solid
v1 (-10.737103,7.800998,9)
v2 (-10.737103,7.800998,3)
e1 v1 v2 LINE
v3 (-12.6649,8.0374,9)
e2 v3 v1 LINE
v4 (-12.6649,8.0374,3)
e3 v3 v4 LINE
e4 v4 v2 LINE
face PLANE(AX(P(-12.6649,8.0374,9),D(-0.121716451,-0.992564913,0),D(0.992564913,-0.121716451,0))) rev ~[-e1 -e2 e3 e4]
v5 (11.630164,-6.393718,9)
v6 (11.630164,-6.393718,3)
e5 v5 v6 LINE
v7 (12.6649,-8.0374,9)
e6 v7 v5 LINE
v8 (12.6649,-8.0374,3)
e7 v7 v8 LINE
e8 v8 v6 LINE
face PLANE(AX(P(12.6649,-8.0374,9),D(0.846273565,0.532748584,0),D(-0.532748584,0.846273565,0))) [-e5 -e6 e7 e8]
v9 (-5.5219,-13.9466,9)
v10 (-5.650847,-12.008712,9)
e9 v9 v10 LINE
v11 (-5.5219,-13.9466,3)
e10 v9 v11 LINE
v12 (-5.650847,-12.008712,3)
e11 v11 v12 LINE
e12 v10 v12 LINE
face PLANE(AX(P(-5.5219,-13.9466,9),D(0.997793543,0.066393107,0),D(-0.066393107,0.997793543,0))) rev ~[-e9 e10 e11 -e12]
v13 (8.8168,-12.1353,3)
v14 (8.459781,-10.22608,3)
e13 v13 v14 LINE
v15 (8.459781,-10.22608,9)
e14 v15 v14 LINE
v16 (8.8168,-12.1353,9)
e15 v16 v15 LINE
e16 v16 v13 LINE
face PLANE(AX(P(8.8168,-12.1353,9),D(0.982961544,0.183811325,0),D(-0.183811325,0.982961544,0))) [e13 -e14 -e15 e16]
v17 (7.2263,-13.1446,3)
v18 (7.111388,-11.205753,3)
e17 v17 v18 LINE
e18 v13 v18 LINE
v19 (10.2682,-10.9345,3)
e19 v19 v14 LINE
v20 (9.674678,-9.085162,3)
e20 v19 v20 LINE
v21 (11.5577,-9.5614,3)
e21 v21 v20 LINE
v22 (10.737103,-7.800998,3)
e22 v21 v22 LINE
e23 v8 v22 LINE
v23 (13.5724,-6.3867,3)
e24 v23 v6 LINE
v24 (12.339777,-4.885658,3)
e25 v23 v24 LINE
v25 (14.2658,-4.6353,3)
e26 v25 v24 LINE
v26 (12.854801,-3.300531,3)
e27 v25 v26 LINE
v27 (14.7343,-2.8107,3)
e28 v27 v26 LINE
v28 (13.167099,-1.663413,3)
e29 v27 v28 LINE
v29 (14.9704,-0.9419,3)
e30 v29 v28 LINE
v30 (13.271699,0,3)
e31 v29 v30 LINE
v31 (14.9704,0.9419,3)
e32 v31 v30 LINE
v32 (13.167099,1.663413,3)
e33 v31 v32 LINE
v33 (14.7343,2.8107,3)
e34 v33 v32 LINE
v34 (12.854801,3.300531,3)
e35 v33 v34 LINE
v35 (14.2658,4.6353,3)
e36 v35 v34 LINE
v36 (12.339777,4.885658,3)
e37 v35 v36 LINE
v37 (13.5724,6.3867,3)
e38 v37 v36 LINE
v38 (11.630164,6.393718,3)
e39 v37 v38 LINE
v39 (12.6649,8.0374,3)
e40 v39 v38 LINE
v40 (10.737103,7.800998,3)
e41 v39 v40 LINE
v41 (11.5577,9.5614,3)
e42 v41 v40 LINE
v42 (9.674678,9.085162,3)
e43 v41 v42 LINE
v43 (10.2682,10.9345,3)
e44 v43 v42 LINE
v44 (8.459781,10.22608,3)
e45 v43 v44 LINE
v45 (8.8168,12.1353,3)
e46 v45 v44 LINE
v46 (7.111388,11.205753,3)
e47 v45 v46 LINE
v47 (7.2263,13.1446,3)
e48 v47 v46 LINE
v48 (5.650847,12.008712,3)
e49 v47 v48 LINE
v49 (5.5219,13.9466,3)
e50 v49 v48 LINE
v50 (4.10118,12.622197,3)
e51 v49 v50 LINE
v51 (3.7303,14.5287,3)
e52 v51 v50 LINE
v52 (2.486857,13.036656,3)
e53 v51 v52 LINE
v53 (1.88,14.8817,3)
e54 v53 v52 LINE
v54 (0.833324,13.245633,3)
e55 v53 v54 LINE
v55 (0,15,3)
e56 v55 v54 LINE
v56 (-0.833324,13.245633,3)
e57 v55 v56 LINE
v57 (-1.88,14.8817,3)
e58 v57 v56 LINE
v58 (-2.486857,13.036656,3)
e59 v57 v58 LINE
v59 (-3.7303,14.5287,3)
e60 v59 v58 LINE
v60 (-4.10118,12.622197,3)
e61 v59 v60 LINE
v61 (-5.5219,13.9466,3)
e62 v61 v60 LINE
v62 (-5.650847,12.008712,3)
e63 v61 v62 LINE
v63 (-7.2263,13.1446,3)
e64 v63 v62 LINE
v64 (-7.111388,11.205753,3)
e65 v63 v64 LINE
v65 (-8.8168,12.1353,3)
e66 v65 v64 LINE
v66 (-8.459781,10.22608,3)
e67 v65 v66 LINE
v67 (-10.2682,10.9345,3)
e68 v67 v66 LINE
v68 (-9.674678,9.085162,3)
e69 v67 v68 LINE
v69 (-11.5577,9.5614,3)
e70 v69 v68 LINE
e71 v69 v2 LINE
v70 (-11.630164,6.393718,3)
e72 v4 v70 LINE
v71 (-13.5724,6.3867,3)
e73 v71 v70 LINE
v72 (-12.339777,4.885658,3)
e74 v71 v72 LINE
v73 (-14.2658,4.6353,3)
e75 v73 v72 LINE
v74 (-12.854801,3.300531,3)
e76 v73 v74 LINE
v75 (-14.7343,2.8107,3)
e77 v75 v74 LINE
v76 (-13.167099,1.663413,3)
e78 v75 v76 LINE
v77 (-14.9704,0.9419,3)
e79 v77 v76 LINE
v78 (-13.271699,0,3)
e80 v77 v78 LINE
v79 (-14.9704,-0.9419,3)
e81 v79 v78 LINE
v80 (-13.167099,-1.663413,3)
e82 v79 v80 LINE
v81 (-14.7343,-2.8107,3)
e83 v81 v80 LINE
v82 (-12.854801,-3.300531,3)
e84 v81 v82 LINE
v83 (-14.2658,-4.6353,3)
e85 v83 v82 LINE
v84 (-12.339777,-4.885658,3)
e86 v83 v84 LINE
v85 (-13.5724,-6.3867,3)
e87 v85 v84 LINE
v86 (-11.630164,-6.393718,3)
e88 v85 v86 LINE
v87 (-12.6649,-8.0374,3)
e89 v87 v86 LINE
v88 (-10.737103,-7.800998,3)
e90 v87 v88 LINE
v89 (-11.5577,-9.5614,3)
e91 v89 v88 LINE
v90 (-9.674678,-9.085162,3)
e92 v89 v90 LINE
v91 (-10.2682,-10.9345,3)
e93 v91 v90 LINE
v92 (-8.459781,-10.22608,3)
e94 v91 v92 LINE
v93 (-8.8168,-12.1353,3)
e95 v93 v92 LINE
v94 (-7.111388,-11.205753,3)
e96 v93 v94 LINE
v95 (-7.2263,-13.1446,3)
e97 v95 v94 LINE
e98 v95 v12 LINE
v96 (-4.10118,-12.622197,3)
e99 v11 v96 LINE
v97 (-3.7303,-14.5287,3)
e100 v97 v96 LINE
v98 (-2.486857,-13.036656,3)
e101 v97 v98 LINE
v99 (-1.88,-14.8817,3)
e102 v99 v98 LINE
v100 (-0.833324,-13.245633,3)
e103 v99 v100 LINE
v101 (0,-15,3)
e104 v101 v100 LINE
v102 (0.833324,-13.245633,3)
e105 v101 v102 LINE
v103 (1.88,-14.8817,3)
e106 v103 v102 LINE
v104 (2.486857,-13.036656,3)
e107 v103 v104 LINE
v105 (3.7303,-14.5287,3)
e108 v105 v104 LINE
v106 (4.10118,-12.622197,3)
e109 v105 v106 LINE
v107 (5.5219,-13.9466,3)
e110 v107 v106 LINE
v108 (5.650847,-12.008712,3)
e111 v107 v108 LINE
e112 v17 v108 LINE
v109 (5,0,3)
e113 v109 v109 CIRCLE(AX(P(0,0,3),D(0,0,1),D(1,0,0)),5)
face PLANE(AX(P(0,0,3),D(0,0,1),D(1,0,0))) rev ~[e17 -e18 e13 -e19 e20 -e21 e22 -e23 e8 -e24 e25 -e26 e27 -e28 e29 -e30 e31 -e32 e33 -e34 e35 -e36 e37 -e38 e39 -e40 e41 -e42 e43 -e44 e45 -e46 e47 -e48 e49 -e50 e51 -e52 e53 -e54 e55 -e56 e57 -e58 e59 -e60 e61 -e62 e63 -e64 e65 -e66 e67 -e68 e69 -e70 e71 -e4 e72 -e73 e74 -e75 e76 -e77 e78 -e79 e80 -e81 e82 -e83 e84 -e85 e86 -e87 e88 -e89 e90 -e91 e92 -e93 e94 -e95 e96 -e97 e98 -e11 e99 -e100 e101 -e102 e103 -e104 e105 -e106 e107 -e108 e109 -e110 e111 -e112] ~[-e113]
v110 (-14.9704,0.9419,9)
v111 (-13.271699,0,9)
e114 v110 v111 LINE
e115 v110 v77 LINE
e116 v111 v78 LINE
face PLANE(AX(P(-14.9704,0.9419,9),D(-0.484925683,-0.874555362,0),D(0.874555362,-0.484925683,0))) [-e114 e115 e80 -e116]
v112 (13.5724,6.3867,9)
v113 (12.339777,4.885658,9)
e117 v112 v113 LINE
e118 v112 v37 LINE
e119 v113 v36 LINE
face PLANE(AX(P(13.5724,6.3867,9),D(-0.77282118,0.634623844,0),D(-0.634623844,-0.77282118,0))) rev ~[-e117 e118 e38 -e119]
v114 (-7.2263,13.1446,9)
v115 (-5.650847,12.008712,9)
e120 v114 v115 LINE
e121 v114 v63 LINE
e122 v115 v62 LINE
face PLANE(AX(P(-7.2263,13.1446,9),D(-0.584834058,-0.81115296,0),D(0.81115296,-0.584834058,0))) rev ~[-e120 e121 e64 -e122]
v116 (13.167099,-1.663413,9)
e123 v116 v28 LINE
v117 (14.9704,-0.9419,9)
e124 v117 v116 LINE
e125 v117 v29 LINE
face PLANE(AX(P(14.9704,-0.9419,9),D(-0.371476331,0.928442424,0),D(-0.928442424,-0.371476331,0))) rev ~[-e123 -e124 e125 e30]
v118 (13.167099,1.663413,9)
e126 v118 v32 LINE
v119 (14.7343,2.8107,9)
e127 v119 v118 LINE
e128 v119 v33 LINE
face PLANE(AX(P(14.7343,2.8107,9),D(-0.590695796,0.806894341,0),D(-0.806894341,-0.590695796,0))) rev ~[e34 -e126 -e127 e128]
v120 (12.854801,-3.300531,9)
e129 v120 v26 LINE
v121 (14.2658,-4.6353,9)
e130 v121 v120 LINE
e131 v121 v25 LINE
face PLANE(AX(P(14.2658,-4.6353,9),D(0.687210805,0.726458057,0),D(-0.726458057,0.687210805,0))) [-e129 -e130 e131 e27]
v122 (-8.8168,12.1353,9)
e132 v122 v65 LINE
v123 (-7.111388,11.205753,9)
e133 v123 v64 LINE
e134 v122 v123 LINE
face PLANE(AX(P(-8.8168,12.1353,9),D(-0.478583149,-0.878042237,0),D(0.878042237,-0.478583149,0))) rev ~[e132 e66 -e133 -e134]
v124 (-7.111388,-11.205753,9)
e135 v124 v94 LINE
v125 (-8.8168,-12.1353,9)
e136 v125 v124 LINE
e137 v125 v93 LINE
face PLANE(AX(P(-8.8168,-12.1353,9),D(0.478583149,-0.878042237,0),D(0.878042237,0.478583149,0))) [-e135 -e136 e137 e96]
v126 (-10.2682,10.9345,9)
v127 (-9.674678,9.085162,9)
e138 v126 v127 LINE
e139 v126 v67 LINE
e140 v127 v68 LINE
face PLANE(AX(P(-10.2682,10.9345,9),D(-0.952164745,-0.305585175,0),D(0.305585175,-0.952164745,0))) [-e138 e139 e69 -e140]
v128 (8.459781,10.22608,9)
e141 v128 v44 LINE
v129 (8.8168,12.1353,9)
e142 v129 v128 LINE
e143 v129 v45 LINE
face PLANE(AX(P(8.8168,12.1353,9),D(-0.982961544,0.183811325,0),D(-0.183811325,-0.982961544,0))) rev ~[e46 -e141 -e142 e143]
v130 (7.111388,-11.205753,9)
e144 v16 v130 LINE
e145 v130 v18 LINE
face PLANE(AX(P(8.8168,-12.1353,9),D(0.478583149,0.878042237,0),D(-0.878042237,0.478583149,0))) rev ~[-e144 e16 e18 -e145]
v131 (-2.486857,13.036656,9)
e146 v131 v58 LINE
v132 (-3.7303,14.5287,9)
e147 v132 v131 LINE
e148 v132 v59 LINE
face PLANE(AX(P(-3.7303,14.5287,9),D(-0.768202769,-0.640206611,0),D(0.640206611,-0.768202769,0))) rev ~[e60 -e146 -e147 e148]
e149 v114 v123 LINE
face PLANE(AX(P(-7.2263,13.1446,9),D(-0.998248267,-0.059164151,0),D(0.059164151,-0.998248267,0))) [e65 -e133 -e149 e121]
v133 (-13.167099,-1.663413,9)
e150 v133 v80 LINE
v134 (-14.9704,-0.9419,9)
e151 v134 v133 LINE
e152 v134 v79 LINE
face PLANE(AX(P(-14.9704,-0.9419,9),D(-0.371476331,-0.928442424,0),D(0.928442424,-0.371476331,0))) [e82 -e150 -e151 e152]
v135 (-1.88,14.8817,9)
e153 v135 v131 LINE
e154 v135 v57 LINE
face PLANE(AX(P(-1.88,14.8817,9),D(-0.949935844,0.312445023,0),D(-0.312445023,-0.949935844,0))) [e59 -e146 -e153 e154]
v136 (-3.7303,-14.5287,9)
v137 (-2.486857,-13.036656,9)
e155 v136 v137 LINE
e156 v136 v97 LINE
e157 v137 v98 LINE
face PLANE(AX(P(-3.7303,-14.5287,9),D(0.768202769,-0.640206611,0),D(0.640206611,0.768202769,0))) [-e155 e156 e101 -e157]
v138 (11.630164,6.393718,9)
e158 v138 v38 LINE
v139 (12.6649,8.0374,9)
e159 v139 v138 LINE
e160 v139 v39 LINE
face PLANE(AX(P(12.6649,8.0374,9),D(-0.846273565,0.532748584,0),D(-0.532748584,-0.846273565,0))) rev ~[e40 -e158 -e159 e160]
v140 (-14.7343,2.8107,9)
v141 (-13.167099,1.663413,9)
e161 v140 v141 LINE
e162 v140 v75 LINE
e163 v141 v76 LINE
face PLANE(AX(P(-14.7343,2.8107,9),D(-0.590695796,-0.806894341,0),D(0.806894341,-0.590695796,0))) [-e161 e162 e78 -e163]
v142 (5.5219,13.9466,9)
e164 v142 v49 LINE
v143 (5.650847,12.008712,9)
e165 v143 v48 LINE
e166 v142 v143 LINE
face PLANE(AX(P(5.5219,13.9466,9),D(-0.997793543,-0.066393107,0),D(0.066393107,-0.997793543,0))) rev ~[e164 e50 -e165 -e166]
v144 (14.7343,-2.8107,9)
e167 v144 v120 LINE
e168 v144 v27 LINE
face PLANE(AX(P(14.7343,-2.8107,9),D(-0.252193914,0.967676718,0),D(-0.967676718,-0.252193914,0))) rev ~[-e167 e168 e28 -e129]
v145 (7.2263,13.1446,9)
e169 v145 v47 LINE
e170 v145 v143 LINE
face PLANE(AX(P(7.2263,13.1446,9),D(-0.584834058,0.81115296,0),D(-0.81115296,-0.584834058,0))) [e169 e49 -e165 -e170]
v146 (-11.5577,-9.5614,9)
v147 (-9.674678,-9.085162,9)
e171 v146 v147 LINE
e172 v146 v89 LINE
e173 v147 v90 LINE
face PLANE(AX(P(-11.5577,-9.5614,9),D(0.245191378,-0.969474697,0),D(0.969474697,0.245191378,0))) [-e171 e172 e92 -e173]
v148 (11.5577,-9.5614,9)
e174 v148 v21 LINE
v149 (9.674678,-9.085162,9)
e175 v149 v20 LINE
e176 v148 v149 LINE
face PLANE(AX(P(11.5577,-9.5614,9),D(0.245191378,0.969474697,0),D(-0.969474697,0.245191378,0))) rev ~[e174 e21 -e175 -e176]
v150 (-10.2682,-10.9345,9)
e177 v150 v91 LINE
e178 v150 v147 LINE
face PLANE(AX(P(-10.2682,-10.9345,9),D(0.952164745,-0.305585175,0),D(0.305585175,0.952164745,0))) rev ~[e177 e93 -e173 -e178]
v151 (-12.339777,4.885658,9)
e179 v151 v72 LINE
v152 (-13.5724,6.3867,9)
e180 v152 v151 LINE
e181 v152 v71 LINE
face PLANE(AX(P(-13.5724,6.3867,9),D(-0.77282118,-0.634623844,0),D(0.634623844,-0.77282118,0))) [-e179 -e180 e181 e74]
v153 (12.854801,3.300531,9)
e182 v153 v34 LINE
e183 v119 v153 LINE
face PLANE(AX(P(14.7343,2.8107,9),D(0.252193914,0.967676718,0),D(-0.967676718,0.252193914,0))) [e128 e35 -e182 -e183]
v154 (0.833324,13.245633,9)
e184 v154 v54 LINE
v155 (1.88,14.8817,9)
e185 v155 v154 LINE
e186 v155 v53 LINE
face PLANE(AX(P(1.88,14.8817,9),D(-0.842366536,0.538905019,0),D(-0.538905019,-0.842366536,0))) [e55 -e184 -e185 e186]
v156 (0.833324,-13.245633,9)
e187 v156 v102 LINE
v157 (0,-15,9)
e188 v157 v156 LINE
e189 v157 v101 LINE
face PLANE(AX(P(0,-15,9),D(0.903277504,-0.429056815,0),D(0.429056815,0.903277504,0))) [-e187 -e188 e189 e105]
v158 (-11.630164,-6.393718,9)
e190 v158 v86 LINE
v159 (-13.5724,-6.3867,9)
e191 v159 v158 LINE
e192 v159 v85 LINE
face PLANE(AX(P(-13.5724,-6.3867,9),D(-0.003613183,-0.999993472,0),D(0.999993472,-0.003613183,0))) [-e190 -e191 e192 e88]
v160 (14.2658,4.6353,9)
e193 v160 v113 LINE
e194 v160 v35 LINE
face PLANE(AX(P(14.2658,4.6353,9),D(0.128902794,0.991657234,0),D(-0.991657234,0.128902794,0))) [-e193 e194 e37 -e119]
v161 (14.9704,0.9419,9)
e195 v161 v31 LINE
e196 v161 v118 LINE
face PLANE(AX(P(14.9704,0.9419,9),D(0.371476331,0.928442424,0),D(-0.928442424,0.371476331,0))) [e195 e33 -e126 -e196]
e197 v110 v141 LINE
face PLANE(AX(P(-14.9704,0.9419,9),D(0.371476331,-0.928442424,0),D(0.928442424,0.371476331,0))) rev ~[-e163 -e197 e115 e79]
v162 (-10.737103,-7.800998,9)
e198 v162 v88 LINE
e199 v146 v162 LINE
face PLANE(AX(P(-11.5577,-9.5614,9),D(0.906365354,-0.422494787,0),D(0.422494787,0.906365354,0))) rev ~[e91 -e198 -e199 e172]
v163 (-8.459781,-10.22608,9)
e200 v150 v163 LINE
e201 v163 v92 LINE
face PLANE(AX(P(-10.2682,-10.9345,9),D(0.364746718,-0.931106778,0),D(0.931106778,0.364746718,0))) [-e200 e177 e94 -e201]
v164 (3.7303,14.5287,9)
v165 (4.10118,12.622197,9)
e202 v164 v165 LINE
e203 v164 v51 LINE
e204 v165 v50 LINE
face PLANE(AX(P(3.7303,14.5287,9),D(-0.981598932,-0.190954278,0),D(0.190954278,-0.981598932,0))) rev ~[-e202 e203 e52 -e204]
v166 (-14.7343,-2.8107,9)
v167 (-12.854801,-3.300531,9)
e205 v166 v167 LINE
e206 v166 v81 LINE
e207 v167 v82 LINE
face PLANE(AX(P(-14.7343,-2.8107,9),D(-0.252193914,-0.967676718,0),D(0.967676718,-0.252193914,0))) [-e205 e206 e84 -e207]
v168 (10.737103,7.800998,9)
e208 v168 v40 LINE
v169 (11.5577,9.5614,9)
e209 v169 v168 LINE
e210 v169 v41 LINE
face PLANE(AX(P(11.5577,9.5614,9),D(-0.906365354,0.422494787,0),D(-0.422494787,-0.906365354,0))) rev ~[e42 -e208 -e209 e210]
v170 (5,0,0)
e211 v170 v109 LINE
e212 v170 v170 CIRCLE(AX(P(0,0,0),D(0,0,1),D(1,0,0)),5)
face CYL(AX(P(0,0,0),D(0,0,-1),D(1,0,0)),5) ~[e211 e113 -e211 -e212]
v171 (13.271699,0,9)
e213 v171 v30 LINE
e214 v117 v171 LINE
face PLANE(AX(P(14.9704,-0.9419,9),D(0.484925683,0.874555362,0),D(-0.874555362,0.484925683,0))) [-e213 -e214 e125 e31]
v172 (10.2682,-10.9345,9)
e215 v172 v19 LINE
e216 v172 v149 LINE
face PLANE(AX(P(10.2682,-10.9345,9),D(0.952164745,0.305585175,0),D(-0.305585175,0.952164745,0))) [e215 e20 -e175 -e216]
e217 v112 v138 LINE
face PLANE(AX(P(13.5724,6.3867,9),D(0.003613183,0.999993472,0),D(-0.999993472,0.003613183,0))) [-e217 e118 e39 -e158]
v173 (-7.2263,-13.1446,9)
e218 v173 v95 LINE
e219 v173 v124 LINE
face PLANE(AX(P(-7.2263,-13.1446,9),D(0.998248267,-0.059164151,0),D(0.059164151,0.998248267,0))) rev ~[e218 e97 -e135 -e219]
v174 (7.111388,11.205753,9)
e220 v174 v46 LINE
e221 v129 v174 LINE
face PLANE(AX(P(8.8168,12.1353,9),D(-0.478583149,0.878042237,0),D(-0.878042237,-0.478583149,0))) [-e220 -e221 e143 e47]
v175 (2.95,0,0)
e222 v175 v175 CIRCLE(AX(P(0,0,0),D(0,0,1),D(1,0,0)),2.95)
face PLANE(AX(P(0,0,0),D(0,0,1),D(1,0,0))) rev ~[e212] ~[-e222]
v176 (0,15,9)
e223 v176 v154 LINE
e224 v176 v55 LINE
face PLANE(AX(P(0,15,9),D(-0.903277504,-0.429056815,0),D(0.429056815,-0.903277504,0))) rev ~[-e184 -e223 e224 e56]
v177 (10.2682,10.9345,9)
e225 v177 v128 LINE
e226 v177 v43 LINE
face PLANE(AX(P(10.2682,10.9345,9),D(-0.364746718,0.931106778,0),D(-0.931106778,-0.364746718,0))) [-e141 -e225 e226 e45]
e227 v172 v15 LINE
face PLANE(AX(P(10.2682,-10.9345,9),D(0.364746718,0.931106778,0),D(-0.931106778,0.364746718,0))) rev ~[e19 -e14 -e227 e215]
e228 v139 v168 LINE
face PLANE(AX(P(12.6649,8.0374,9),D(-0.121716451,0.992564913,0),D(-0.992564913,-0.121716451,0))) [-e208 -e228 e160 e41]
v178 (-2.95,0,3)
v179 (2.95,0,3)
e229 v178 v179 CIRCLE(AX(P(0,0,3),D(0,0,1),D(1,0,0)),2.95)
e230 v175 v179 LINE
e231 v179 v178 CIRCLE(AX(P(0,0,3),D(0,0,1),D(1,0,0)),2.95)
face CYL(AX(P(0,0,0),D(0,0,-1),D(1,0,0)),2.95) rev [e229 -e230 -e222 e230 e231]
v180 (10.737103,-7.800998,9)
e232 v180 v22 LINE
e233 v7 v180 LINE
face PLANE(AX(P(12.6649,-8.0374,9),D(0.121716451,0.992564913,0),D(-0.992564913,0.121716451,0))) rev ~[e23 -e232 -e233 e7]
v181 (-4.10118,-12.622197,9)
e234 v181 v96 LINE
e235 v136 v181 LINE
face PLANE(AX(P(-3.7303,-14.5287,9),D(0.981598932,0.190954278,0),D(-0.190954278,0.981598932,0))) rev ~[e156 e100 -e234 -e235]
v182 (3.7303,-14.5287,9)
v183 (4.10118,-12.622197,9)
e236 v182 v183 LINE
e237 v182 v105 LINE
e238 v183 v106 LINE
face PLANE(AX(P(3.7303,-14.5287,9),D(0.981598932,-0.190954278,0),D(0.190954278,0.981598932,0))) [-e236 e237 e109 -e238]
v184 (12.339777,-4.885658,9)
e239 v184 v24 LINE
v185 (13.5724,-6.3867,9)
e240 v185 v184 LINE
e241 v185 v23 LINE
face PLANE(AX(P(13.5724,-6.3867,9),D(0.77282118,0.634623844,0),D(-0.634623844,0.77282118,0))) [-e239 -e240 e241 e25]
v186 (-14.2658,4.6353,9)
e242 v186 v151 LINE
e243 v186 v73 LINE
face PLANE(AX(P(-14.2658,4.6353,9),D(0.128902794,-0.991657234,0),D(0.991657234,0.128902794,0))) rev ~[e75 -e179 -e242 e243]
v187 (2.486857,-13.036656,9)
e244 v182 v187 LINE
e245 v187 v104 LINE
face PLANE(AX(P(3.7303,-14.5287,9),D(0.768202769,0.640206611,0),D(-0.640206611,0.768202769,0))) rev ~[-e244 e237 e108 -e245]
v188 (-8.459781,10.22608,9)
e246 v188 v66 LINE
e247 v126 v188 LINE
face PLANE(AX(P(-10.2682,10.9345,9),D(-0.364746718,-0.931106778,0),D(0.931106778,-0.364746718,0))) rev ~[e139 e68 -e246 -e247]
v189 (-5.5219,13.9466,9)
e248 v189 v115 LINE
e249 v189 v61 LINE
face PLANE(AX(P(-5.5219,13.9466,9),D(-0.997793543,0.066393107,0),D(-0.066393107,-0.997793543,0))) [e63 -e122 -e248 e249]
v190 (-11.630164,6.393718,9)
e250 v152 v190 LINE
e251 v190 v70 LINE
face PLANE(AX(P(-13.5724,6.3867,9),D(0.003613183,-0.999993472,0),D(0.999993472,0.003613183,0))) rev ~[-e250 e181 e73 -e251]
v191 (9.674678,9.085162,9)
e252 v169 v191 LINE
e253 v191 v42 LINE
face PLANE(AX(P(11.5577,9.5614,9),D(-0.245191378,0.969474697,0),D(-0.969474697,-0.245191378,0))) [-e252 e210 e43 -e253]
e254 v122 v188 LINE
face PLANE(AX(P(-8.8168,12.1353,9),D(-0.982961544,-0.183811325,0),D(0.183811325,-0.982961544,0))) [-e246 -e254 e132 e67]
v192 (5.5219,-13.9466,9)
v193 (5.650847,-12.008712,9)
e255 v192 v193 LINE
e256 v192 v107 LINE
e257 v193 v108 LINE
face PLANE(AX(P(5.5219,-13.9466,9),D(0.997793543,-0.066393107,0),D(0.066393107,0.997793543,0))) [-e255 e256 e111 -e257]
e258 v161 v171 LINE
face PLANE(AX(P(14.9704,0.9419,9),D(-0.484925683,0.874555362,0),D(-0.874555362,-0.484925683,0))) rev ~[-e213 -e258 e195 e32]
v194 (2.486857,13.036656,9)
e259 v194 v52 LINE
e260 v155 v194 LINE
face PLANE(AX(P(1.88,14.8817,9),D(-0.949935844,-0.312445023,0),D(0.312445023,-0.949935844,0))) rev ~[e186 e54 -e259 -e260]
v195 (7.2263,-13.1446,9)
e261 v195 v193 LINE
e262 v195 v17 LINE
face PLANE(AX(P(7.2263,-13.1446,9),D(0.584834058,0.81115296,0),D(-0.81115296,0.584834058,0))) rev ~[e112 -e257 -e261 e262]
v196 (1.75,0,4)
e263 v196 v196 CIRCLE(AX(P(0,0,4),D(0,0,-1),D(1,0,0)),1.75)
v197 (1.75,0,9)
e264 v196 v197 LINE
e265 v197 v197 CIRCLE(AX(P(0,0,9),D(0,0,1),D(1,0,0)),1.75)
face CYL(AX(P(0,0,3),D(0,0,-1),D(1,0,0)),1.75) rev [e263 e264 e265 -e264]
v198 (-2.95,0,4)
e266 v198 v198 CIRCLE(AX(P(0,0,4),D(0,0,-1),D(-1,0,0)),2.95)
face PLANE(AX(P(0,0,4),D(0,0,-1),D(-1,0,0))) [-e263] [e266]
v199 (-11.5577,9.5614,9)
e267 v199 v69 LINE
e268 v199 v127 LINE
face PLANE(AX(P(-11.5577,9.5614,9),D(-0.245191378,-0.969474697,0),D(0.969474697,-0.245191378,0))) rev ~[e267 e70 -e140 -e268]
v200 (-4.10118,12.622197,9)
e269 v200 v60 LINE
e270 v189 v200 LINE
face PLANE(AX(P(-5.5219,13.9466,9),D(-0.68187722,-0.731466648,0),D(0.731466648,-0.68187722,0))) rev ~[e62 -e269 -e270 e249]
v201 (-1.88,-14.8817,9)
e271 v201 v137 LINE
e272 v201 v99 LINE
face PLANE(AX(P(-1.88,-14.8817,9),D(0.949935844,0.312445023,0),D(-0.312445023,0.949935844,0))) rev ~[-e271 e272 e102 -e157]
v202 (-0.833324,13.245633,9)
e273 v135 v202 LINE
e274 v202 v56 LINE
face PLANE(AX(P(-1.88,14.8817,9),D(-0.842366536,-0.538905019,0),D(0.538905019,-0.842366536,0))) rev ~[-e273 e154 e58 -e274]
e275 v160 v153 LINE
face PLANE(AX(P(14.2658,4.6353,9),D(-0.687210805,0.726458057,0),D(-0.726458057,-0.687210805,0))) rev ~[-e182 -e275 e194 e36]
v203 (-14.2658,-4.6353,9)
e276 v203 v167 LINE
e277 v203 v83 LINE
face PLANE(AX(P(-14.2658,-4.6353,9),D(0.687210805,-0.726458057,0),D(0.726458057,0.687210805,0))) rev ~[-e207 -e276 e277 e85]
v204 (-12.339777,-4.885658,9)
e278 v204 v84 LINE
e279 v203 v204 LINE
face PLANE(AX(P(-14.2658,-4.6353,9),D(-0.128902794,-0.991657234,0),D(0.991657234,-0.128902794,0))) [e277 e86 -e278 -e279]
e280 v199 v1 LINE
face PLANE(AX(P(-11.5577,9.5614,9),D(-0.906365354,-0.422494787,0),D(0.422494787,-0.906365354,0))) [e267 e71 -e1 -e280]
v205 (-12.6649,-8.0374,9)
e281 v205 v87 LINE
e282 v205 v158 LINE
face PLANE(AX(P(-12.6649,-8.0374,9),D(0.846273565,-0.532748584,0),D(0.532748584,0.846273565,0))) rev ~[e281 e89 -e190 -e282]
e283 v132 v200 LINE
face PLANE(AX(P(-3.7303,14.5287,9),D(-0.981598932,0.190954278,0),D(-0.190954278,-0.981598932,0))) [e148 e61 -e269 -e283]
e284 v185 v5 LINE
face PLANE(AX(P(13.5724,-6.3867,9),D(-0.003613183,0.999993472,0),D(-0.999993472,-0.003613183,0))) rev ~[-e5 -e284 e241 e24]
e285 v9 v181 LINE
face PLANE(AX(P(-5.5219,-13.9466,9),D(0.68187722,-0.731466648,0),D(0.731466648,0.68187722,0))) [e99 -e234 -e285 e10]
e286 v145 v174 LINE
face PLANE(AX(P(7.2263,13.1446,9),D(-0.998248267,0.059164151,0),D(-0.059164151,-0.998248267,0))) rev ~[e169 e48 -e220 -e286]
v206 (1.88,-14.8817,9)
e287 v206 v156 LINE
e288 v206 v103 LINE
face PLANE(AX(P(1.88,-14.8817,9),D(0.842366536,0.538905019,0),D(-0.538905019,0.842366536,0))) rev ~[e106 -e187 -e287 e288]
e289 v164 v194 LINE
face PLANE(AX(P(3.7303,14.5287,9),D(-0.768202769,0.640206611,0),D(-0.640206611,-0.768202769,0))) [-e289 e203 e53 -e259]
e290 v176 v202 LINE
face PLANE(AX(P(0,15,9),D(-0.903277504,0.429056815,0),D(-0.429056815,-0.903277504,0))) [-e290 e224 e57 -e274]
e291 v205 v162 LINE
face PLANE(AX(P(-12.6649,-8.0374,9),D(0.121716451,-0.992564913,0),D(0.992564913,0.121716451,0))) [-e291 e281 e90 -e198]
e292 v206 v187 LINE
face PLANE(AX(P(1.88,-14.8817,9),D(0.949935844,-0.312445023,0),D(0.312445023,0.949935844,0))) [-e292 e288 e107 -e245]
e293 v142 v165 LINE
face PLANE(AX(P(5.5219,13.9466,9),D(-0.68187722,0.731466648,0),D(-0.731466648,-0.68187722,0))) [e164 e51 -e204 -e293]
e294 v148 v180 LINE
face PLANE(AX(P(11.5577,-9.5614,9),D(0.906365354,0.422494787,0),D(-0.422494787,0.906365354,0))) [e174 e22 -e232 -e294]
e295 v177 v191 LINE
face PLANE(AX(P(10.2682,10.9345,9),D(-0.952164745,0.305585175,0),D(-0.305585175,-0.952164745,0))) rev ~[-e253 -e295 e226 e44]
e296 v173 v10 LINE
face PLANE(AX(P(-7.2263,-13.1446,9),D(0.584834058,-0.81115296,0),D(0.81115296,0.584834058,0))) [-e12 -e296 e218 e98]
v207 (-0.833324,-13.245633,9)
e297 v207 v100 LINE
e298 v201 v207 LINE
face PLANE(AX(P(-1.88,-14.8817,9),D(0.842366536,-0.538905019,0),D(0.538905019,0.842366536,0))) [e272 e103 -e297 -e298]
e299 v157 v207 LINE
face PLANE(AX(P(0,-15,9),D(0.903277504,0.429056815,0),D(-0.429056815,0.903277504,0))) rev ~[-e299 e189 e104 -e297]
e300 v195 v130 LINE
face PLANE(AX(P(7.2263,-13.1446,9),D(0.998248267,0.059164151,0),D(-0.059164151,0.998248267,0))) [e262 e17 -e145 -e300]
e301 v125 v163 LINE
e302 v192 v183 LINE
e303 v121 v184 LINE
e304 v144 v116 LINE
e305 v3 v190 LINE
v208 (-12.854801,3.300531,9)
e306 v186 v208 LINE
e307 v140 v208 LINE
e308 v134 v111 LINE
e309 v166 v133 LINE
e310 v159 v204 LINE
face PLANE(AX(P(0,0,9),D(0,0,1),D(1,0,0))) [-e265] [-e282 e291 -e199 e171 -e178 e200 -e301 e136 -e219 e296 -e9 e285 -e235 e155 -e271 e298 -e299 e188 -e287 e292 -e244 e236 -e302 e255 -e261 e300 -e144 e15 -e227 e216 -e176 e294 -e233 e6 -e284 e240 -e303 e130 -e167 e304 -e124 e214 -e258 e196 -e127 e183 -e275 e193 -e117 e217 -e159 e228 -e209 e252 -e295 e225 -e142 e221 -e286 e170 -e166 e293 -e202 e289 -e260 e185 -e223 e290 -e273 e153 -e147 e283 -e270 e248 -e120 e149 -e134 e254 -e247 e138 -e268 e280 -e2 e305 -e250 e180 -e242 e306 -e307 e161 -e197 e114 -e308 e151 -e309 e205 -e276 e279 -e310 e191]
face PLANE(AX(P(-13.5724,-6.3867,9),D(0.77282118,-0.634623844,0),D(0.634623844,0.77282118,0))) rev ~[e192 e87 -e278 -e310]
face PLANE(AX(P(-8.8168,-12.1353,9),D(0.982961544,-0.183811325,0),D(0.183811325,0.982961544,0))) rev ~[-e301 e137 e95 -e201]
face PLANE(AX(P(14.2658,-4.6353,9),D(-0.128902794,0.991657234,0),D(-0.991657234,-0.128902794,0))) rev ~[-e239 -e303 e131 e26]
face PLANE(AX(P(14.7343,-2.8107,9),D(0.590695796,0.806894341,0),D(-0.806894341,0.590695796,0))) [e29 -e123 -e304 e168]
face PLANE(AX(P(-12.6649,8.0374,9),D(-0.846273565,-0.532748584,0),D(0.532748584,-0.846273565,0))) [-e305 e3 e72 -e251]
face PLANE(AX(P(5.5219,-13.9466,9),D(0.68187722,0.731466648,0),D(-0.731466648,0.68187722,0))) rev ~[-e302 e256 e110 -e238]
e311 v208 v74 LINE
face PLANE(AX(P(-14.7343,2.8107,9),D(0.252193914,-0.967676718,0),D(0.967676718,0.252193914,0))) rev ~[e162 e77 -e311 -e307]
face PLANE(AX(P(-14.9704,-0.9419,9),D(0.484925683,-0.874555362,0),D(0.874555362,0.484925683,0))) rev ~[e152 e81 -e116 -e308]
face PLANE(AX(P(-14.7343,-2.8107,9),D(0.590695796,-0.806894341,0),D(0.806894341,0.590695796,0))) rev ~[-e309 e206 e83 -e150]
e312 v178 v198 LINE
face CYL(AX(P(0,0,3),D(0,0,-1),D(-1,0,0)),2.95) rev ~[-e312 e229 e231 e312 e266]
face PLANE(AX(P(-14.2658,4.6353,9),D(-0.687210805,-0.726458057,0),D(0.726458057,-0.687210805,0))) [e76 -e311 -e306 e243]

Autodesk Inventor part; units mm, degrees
sketch "Skizze1" plane through (0, 0, 0) normal (0, 0, 1) x (1, 0, 0)
  circle A0 centre (0, 0) radius 2.95
  circle A1 centre (0, 0) radius 5
  dimension "d0" = 5.9
  dimension "d1" = 10
extrude "Extrusion1" add sketch "Skizze1" along normal blind 3
sketch "Skizze2" plane through (0, 0, 3) normal (0, 0, 1) x (1, 0, 0)
  circle A0 centre (0, 0) radius 15
  circle A1 centre (0, 0) radius 1.75
  dimension "d4" = 30
  dimension "d5" = 3.5
extrude "Extrusion2" add sketch "Skizze2" along normal blind 6
sketch "Skizze3" plane through (0, 0, 9) normal (0, 0, 1) x (1, 0, 0)
  circle A0 centre (0, 0) radius 15 projected
  line L0 (0, 15) -> (-0.95, 13)
  line L1 (0, 15) -> (0.95, 13)
  line L2 (0, 21) -> (0, -21) projected
  line L3 (1.88, 14.8817) -> (0.6868, 13.0166)
  line L4 (1.88, 14.8817) -> (2.5718, 12.7784)
  line L5 (3.7303, 14.5287) -> (2.3128, 12.8278)
  line L6 (3.7303, 14.5287) -> (4.1531, 12.3553)
  line L7 (5.5219, 13.9466) -> (3.9023, 12.4368)
  line L8 (5.5219, 13.9466) -> (5.6689, 11.7374)
  line L9 (7.2263, 13.1446) -> (5.4303, 11.8497)
  line L10 (7.2263, 13.1446) -> (7.0953, 10.9343)
  line L11 (8.8168, 12.1353) -> (6.8726, 11.0756)
  line L12 (8.8168, 12.1353) -> (8.4098, 9.9588)
  line L13 (10.2682, 10.9345) -> (8.2066, 10.1269)
  line L14 (10.2682, 10.9345) -> (9.5916, 8.8263)
  line L15 (11.5577, 9.5614) -> (9.4111, 9.0185)
  line L16 (11.5577, 9.5614) -> (10.6222, 7.5545)
  line L17 (12.6649, 8.0374) -> (10.4672, 7.7679)
  line L18 (12.6649, 8.0374) -> (11.4853, 6.1636)
  line L19 (13.5724, 6.3867) -> (11.3583, 6.3947)
  line L20 (13.5724, 6.3867) -> (12.1672, 4.6755)
  line L21 (14.2658, 4.6353) -> (12.0702, 4.9207)
  line L22 (14.2658, 4.6353) -> (12.6573, 3.1137)
  line L23 (14.7343, 2.8107) -> (12.5917, 3.3691)
  line L24 (14.7343, 2.8107) -> (12.9477, 1.5028)
  line L25 (14.9704, 0.9419) -> (12.9147, 1.7644)
  line L26 (14.9704, 0.9419) -> (13.034, -0.1318)
  line L27 (14.9704, -0.9419) -> (13.034, 0.1318)
  line L28 (14.9704, -0.9419) -> (12.9147, -1.7644)
  line L29 (14.7343, -2.8107) -> (12.9477, -1.5028)
  line L30 (14.7343, -2.8107) -> (12.5917, -3.3691)
  line L31 (14.2658, -4.6353) -> (12.6573, -3.1137)
  line L32 (14.2658, -4.6353) -> (12.0702, -4.9207)
  line L33 (13.5724, -6.3867) -> (12.1672, -4.6755)
  line L34 (13.5724, -6.3867) -> (11.3583, -6.3947)
  line L35 (12.6649, -8.0374) -> (11.4853, -6.1636)
  line L36 (12.6649, -8.0374) -> (10.4672, -7.7679)
  line L37 (11.5577, -9.5614) -> (10.6222, -7.5545)
  line L38 (11.5577, -9.5614) -> (9.4111, -9.0185)
  line L39 (10.2682, -10.9345) -> (9.5916, -8.8263)
  line L40 (10.2682, -10.9345) -> (8.2066, -10.1269)
  line L41 (8.8168, -12.1353) -> (8.4098, -9.9588)
  line L42 (8.8168, -12.1353) -> (6.8726, -11.0756)
  line L43 (7.2263, -13.1446) -> (7.0953, -10.9343)
  line L44 (7.2263, -13.1446) -> (5.4303, -11.8497)
  line L45 (5.5219, -13.9466) -> (5.6689, -11.7374)
  line L46 (5.5219, -13.9466) -> (3.9023, -12.4368)
  line L47 (3.7303, -14.5287) -> (4.1531, -12.3553)
  line L48 (3.7303, -14.5287) -> (2.3128, -12.8278)
  line L49 (1.88, -14.8817) -> (2.5718, -12.7784)
  line L50 (1.88, -14.8817) -> (0.6868, -13.0166)
  line L51 (0, -15) -> (0.95, -13)
  line L52 (0, -15) -> (-0.95, -13)
  line L53 (-1.88, -14.8817) -> (-0.6868, -13.0166)
  line L54 (-1.88, -14.8817) -> (-2.5718, -12.7784)
  line L55 (-3.7303, -14.5287) -> (-2.3128, -12.8278)
  line L56 (-3.7303, -14.5287) -> (-4.1531, -12.3553)
  line L57 (-5.5219, -13.9466) -> (-3.9023, -12.4368)
  line L58 (-5.5219, -13.9466) -> (-5.6689, -11.7374)
  line L59 (-7.2263, -13.1446) -> (-5.4303, -11.8497)
  line L60 (-7.2263, -13.1446) -> (-7.0953, -10.9343)
  line L61 (-8.8168, -12.1353) -> (-6.8726, -11.0756)
  line L62 (-8.8168, -12.1353) -> (-8.4098, -9.9588)
  line L63 (-10.2682, -10.9345) -> (-8.2066, -10.1269)
  line L64 (-10.2682, -10.9345) -> (-9.5916, -8.8263)
  line L65 (-11.5577, -9.5614) -> (-9.4111, -9.0185)
  line L66 (-11.5577, -9.5614) -> (-10.6222, -7.5545)
  line L67 (-12.6649, -8.0374) -> (-10.4672, -7.7679)
  line L68 (-12.6649, -8.0374) -> (-11.4853, -6.1636)
  line L69 (-13.5724, -6.3867) -> (-11.3583, -6.3947)
  line L70 (-13.5724, -6.3867) -> (-12.1672, -4.6755)
  line L71 (-14.2658, -4.6353) -> (-12.0702, -4.9207)
  line L72 (-14.2658, -4.6353) -> (-12.6573, -3.1137)
  line L73 (-14.7343, -2.8107) -> (-12.5917, -3.3691)
  line L74 (-14.7343, -2.8107) -> (-12.9477, -1.5028)
  line L75 (-14.9704, -0.9419) -> (-12.9147, -1.7644)
  line L76 (-14.9704, -0.9419) -> (-13.034, 0.1318)
  line L77 (-14.9704, 0.9419) -> (-13.034, -0.1318)
  line L78 (-14.9704, 0.9419) -> (-12.9147, 1.7644)
  line L79 (-14.7343, 2.8107) -> (-12.9477, 1.5028)
  line L80 (-14.7343, 2.8107) -> (-12.5917, 3.3691)
  line L81 (-14.2658, 4.6353) -> (-12.6573, 3.1137)
  line L82 (-14.2658, 4.6353) -> (-12.0702, 4.9207)
  line L83 (-13.5724, 6.3867) -> (-12.1672, 4.6755)
  line L84 (-13.5724, 6.3867) -> (-11.3583, 6.3947)
  line L85 (-12.6649, 8.0374) -> (-11.4853, 6.1636)
  line L86 (-12.6649, 8.0374) -> (-10.4672, 7.7679)
  line L87 (-11.5577, 9.5614) -> (-10.6222, 7.5545)
  line L88 (-11.5577, 9.5614) -> (-9.4111, 9.0185)
  line L89 (-10.2682, 10.9345) -> (-9.5916, 8.8263)
  line L90 (-10.2682, 10.9345) -> (-8.2066, 10.1269)
  line L91 (-8.8168, 12.1353) -> (-8.4098, 9.9588)
  line L92 (-8.8168, 12.1353) -> (-6.8726, 11.0756)
  line L93 (-7.2263, 13.1446) -> (-7.0953, 10.9343)
  line L94 (-7.2263, 13.1446) -> (-5.4303, 11.8497)
  line L95 (-5.5219, 13.9466) -> (-5.6689, 11.7374)
  line L96 (-5.5219, 13.9466) -> (-3.9023, 12.4368)
  circle A1 centre (0, 0) radius 15
  line L97 (-3.7303, 14.5287) -> (-4.1531, 12.3553)
  line L98 (-3.7303, 14.5287) -> (-2.3128, 12.8278)
  line L99 (-1.88, 14.8817) -> (-2.5718, 12.7784)
  line L100 (-1.88, 14.8817) -> (-0.6868, 13.0166)
  point P0 (-4.1012, 12.6222)
  point P1 (-3.7303, 14.5287)
  point P2 (-3.7303, 14.5287)
  point P3 (-5.5219, 13.9466)
  point P4 (-5.6509, 12.0087)
  point P5 (-7.2263, 13.1446)
  point P6 (-7.2263, 13.1446)
  point P7 (-7.1114, 11.2057)
  point P8 (-8.4598, 10.2261)
  point P9 (-10.2682, 10.9345)
  point P10 (-10.2682, 10.9345)
  point P11 (-9.6747, 9.0852)
  point P12 (-11.5577, 9.5614)
  point P13 (-10.7371, 7.801)
  point P14 (-12.6649, 8.0374)
  point P15 (-12.6649, 8.0374)
  point P16 (-11.6302, 6.3937)
  point P17 (-12.3398, 4.8857)
  point P18 (-14.2658, 4.6353)
  point P19 (-12.8548, 3.3006)
  point P20 (-13.1671, 1.6634)
  point P21 (-14.9704, 0.9419)
  point P22 (-14.9704, 0.9419)
  point P23 (-13.2718, 0)
  point P24 (-14.9704, -0.9419)
  point P25 (-14.9704, -0.9419)
  point P26 (-13.1671, -1.6634)
  point P27 (-14.7343, -2.8107)
  point P28 (-14.7343, -2.8107)
  point P29 (-12.8548, -3.3006)
  point P30 (-14.2658, -4.6353)
  point P31 (-12.3398, -4.8857)
  point P32 (-13.5724, -6.3867)
  point P33 (-11.6302, -6.3937)
  point P34 (-12.6649, -8.0374)
  point P35 (-10.7371, -7.801)
  point P36 (-9.6747, -9.0852)
  point P37 (-10.2682, -10.9345)
  point P38 (-10.2682, -10.9345)
  point P39 (-8.4598, -10.2261)
  point P40 (-8.8168, -12.1353)
  point P41 (-7.1114, -11.2057)
  point P42 (-7.2263, -13.1446)
  point P43 (-7.2263, -13.1446)
  point P44 (-5.6509, -12.0087)
  point P45 (-5.5219, -13.9466)
  point P46 (-5.5219, -13.9466)
  point P47 (-4.1012, -12.6222)
  point P48 (-3.7303, -14.5287)
  point P49 (-2.4869, -13.0367)
  point P50 (-1.88, -14.8817)
  point P51 (-1.88, -14.8817)
  point P52 (-0.8333, -13.2456)
  point P53 (0, -15)
  point P54 (0, -15)
  point P55 (0.8333, -13.2456)
  point P56 (1.88, -14.8817)
  point P57 (1.88, -14.8817)
  point P58 (2.4869, -13.0367)
  point P59 (3.7303, -14.5287)
  point P60 (3.7303, -14.5287)
  point P61 (4.1012, -12.6222)
  point P62 (5.5219, -13.9466)
  point P63 (5.6509, -12.0087)
  point P64 (7.2263, -13.1446)
  point P65 (7.2263, -13.1446)
  point P66 (7.1114, -11.2057)
  point P67 (8.8168, -12.1353)
  point P68 (8.4598, -10.2261)
  point P69 (10.2682, -10.9345)
  point P70 (9.6747, -9.0852)
  point P71 (11.5577, -9.5614)
  point P72 (10.7371, -7.801)
  point P73 (12.6649, -8.0374)
  point P74 (11.6302, -6.3937)
  point P75 (13.5724, -6.3867)
  point P76 (12.3398, -4.8857)
  point P77 (14.2658, -4.6353)
  point P78 (12.8548, -3.3006)
  point P79 (14.7343, -2.8107)
  point P80 (14.7343, -2.8107)
  point P81 (13.1671, -1.6634)
  point P82 (14.9704, -0.9419)
  point P83 (14.9704, -0.9419)
  point P84 (13.2718, 0)
  point P85 (14.9704, 0.9419)
  point P86 (13.1671, 1.6634)
  point P87 (14.7343, 2.8107)
  point P88 (12.8548, 3.3006)
  point P89 (14.2658, 4.6353)
  point P90 (14.2658, 4.6353)
  point P91 (12.3398, 4.8857)
  point P92 (13.5724, 6.3867)
  point P93 (13.5724, 6.3867)
  point P94 (11.6302, 6.3937)
  point P95 (12.6649, 8.0374)
  point P96 (12.6649, 8.0374)
  point P97 (10.7371, 7.801)
  point P98 (11.5577, 9.5614)
  point P99 (9.6747, 9.0852)
  point P100 (10.2682, 10.9345)
  point P101 (10.2682, 10.9345)
  point P102 (8.4598, 10.2261)
  point P103 (7.1114, 11.2057)
  point P104 (7.2263, 13.1446)
  point P105 (7.2263, 13.1446)
  point P106 (5.6509, 12.0087)
  point P107 (5.5219, 13.9466)
  point P108 (5.5219, 13.9466)
  point P109 (4.1012, 12.6222)
  point P110 (3.7303, 14.5287)
  point P111 (3.7303, 14.5287)
  point P112 (2.4869, 13.0367)
  point P113 (1.88, 14.8817)
  point P114 (1.88, 14.8817)
  point P115 (0.8333, 13.2456)
  point P116 (-0.8366, 13.0314)
  point P117 (-2.4869, 13.0367)
  point P118 (-0.8333, 13.2456)
  dimension "d12" = 1.9
  dimension "d13" = 0.95
  dimension "d14" = 0
  dimension "d15" = 2
  dimension "d16" = 2
  dimension "d17" = 15
  dimension "d20" = 360
extrude "Extrusion3" cut sketch "Skizze3" against normal blind 6 contours A0 L27 L26 | L25 L24 A0 | A0 L29 L28 | L23 L22 A0 | A0 L31 L30 | L21 L20 A0 | A0 L33 L32 | L19 L18 A0 | A0 L35 L34 | L17 L16 A0 | A0 L37 L36 | L15 L14 A0 | A0 L39 L38 | L13 L12 A0 | A0 L41 L40 | L11 L10 A0 | A0 L43 L42 | L9 L8 A0 | A0 L45 L44 | L7 L6 A0 | A0 L47 L46 | L5 L4 A0 | A0 L49 L48 | L3 L1 A0 | A0 L51 L50 | L0 L100 A0 | A0 L53 L52 | L99 L98 A0 | A0 L55 L54 | L97 L96 A0 | A0 L57 L56 | L95 L94 A0 | A0 L59 L58 | L93 L92 A0 | A0 L61 L60 | L91 L90 A0 | A0 L63 L62 | L89 L88 A0 | A0 L65 L64 | L87 L86 A0 | A0 L67 L66 | L85 L84 A0 | A0 L69 L68 | L83 L82 A0 | A0 L71 L70 | L81 L80 A0 | A0 L73 L72 | L79 L78 A0 | A0 L75 L74 | L77 L76 A0
fillet "Rundung1" [suppressed]
sketch "Skizze4" plane through (0, 0, 3) normal (0, 0, -1) x (-1, 0, 0)
  circle A0 centre (0, 0) radius 2.95
extrude "Extrusion4" cut sketch "Skizze4" against normal blind 1
equation "\"d13\" = 0.5 * d12"
properties part number "Zahnrad"
